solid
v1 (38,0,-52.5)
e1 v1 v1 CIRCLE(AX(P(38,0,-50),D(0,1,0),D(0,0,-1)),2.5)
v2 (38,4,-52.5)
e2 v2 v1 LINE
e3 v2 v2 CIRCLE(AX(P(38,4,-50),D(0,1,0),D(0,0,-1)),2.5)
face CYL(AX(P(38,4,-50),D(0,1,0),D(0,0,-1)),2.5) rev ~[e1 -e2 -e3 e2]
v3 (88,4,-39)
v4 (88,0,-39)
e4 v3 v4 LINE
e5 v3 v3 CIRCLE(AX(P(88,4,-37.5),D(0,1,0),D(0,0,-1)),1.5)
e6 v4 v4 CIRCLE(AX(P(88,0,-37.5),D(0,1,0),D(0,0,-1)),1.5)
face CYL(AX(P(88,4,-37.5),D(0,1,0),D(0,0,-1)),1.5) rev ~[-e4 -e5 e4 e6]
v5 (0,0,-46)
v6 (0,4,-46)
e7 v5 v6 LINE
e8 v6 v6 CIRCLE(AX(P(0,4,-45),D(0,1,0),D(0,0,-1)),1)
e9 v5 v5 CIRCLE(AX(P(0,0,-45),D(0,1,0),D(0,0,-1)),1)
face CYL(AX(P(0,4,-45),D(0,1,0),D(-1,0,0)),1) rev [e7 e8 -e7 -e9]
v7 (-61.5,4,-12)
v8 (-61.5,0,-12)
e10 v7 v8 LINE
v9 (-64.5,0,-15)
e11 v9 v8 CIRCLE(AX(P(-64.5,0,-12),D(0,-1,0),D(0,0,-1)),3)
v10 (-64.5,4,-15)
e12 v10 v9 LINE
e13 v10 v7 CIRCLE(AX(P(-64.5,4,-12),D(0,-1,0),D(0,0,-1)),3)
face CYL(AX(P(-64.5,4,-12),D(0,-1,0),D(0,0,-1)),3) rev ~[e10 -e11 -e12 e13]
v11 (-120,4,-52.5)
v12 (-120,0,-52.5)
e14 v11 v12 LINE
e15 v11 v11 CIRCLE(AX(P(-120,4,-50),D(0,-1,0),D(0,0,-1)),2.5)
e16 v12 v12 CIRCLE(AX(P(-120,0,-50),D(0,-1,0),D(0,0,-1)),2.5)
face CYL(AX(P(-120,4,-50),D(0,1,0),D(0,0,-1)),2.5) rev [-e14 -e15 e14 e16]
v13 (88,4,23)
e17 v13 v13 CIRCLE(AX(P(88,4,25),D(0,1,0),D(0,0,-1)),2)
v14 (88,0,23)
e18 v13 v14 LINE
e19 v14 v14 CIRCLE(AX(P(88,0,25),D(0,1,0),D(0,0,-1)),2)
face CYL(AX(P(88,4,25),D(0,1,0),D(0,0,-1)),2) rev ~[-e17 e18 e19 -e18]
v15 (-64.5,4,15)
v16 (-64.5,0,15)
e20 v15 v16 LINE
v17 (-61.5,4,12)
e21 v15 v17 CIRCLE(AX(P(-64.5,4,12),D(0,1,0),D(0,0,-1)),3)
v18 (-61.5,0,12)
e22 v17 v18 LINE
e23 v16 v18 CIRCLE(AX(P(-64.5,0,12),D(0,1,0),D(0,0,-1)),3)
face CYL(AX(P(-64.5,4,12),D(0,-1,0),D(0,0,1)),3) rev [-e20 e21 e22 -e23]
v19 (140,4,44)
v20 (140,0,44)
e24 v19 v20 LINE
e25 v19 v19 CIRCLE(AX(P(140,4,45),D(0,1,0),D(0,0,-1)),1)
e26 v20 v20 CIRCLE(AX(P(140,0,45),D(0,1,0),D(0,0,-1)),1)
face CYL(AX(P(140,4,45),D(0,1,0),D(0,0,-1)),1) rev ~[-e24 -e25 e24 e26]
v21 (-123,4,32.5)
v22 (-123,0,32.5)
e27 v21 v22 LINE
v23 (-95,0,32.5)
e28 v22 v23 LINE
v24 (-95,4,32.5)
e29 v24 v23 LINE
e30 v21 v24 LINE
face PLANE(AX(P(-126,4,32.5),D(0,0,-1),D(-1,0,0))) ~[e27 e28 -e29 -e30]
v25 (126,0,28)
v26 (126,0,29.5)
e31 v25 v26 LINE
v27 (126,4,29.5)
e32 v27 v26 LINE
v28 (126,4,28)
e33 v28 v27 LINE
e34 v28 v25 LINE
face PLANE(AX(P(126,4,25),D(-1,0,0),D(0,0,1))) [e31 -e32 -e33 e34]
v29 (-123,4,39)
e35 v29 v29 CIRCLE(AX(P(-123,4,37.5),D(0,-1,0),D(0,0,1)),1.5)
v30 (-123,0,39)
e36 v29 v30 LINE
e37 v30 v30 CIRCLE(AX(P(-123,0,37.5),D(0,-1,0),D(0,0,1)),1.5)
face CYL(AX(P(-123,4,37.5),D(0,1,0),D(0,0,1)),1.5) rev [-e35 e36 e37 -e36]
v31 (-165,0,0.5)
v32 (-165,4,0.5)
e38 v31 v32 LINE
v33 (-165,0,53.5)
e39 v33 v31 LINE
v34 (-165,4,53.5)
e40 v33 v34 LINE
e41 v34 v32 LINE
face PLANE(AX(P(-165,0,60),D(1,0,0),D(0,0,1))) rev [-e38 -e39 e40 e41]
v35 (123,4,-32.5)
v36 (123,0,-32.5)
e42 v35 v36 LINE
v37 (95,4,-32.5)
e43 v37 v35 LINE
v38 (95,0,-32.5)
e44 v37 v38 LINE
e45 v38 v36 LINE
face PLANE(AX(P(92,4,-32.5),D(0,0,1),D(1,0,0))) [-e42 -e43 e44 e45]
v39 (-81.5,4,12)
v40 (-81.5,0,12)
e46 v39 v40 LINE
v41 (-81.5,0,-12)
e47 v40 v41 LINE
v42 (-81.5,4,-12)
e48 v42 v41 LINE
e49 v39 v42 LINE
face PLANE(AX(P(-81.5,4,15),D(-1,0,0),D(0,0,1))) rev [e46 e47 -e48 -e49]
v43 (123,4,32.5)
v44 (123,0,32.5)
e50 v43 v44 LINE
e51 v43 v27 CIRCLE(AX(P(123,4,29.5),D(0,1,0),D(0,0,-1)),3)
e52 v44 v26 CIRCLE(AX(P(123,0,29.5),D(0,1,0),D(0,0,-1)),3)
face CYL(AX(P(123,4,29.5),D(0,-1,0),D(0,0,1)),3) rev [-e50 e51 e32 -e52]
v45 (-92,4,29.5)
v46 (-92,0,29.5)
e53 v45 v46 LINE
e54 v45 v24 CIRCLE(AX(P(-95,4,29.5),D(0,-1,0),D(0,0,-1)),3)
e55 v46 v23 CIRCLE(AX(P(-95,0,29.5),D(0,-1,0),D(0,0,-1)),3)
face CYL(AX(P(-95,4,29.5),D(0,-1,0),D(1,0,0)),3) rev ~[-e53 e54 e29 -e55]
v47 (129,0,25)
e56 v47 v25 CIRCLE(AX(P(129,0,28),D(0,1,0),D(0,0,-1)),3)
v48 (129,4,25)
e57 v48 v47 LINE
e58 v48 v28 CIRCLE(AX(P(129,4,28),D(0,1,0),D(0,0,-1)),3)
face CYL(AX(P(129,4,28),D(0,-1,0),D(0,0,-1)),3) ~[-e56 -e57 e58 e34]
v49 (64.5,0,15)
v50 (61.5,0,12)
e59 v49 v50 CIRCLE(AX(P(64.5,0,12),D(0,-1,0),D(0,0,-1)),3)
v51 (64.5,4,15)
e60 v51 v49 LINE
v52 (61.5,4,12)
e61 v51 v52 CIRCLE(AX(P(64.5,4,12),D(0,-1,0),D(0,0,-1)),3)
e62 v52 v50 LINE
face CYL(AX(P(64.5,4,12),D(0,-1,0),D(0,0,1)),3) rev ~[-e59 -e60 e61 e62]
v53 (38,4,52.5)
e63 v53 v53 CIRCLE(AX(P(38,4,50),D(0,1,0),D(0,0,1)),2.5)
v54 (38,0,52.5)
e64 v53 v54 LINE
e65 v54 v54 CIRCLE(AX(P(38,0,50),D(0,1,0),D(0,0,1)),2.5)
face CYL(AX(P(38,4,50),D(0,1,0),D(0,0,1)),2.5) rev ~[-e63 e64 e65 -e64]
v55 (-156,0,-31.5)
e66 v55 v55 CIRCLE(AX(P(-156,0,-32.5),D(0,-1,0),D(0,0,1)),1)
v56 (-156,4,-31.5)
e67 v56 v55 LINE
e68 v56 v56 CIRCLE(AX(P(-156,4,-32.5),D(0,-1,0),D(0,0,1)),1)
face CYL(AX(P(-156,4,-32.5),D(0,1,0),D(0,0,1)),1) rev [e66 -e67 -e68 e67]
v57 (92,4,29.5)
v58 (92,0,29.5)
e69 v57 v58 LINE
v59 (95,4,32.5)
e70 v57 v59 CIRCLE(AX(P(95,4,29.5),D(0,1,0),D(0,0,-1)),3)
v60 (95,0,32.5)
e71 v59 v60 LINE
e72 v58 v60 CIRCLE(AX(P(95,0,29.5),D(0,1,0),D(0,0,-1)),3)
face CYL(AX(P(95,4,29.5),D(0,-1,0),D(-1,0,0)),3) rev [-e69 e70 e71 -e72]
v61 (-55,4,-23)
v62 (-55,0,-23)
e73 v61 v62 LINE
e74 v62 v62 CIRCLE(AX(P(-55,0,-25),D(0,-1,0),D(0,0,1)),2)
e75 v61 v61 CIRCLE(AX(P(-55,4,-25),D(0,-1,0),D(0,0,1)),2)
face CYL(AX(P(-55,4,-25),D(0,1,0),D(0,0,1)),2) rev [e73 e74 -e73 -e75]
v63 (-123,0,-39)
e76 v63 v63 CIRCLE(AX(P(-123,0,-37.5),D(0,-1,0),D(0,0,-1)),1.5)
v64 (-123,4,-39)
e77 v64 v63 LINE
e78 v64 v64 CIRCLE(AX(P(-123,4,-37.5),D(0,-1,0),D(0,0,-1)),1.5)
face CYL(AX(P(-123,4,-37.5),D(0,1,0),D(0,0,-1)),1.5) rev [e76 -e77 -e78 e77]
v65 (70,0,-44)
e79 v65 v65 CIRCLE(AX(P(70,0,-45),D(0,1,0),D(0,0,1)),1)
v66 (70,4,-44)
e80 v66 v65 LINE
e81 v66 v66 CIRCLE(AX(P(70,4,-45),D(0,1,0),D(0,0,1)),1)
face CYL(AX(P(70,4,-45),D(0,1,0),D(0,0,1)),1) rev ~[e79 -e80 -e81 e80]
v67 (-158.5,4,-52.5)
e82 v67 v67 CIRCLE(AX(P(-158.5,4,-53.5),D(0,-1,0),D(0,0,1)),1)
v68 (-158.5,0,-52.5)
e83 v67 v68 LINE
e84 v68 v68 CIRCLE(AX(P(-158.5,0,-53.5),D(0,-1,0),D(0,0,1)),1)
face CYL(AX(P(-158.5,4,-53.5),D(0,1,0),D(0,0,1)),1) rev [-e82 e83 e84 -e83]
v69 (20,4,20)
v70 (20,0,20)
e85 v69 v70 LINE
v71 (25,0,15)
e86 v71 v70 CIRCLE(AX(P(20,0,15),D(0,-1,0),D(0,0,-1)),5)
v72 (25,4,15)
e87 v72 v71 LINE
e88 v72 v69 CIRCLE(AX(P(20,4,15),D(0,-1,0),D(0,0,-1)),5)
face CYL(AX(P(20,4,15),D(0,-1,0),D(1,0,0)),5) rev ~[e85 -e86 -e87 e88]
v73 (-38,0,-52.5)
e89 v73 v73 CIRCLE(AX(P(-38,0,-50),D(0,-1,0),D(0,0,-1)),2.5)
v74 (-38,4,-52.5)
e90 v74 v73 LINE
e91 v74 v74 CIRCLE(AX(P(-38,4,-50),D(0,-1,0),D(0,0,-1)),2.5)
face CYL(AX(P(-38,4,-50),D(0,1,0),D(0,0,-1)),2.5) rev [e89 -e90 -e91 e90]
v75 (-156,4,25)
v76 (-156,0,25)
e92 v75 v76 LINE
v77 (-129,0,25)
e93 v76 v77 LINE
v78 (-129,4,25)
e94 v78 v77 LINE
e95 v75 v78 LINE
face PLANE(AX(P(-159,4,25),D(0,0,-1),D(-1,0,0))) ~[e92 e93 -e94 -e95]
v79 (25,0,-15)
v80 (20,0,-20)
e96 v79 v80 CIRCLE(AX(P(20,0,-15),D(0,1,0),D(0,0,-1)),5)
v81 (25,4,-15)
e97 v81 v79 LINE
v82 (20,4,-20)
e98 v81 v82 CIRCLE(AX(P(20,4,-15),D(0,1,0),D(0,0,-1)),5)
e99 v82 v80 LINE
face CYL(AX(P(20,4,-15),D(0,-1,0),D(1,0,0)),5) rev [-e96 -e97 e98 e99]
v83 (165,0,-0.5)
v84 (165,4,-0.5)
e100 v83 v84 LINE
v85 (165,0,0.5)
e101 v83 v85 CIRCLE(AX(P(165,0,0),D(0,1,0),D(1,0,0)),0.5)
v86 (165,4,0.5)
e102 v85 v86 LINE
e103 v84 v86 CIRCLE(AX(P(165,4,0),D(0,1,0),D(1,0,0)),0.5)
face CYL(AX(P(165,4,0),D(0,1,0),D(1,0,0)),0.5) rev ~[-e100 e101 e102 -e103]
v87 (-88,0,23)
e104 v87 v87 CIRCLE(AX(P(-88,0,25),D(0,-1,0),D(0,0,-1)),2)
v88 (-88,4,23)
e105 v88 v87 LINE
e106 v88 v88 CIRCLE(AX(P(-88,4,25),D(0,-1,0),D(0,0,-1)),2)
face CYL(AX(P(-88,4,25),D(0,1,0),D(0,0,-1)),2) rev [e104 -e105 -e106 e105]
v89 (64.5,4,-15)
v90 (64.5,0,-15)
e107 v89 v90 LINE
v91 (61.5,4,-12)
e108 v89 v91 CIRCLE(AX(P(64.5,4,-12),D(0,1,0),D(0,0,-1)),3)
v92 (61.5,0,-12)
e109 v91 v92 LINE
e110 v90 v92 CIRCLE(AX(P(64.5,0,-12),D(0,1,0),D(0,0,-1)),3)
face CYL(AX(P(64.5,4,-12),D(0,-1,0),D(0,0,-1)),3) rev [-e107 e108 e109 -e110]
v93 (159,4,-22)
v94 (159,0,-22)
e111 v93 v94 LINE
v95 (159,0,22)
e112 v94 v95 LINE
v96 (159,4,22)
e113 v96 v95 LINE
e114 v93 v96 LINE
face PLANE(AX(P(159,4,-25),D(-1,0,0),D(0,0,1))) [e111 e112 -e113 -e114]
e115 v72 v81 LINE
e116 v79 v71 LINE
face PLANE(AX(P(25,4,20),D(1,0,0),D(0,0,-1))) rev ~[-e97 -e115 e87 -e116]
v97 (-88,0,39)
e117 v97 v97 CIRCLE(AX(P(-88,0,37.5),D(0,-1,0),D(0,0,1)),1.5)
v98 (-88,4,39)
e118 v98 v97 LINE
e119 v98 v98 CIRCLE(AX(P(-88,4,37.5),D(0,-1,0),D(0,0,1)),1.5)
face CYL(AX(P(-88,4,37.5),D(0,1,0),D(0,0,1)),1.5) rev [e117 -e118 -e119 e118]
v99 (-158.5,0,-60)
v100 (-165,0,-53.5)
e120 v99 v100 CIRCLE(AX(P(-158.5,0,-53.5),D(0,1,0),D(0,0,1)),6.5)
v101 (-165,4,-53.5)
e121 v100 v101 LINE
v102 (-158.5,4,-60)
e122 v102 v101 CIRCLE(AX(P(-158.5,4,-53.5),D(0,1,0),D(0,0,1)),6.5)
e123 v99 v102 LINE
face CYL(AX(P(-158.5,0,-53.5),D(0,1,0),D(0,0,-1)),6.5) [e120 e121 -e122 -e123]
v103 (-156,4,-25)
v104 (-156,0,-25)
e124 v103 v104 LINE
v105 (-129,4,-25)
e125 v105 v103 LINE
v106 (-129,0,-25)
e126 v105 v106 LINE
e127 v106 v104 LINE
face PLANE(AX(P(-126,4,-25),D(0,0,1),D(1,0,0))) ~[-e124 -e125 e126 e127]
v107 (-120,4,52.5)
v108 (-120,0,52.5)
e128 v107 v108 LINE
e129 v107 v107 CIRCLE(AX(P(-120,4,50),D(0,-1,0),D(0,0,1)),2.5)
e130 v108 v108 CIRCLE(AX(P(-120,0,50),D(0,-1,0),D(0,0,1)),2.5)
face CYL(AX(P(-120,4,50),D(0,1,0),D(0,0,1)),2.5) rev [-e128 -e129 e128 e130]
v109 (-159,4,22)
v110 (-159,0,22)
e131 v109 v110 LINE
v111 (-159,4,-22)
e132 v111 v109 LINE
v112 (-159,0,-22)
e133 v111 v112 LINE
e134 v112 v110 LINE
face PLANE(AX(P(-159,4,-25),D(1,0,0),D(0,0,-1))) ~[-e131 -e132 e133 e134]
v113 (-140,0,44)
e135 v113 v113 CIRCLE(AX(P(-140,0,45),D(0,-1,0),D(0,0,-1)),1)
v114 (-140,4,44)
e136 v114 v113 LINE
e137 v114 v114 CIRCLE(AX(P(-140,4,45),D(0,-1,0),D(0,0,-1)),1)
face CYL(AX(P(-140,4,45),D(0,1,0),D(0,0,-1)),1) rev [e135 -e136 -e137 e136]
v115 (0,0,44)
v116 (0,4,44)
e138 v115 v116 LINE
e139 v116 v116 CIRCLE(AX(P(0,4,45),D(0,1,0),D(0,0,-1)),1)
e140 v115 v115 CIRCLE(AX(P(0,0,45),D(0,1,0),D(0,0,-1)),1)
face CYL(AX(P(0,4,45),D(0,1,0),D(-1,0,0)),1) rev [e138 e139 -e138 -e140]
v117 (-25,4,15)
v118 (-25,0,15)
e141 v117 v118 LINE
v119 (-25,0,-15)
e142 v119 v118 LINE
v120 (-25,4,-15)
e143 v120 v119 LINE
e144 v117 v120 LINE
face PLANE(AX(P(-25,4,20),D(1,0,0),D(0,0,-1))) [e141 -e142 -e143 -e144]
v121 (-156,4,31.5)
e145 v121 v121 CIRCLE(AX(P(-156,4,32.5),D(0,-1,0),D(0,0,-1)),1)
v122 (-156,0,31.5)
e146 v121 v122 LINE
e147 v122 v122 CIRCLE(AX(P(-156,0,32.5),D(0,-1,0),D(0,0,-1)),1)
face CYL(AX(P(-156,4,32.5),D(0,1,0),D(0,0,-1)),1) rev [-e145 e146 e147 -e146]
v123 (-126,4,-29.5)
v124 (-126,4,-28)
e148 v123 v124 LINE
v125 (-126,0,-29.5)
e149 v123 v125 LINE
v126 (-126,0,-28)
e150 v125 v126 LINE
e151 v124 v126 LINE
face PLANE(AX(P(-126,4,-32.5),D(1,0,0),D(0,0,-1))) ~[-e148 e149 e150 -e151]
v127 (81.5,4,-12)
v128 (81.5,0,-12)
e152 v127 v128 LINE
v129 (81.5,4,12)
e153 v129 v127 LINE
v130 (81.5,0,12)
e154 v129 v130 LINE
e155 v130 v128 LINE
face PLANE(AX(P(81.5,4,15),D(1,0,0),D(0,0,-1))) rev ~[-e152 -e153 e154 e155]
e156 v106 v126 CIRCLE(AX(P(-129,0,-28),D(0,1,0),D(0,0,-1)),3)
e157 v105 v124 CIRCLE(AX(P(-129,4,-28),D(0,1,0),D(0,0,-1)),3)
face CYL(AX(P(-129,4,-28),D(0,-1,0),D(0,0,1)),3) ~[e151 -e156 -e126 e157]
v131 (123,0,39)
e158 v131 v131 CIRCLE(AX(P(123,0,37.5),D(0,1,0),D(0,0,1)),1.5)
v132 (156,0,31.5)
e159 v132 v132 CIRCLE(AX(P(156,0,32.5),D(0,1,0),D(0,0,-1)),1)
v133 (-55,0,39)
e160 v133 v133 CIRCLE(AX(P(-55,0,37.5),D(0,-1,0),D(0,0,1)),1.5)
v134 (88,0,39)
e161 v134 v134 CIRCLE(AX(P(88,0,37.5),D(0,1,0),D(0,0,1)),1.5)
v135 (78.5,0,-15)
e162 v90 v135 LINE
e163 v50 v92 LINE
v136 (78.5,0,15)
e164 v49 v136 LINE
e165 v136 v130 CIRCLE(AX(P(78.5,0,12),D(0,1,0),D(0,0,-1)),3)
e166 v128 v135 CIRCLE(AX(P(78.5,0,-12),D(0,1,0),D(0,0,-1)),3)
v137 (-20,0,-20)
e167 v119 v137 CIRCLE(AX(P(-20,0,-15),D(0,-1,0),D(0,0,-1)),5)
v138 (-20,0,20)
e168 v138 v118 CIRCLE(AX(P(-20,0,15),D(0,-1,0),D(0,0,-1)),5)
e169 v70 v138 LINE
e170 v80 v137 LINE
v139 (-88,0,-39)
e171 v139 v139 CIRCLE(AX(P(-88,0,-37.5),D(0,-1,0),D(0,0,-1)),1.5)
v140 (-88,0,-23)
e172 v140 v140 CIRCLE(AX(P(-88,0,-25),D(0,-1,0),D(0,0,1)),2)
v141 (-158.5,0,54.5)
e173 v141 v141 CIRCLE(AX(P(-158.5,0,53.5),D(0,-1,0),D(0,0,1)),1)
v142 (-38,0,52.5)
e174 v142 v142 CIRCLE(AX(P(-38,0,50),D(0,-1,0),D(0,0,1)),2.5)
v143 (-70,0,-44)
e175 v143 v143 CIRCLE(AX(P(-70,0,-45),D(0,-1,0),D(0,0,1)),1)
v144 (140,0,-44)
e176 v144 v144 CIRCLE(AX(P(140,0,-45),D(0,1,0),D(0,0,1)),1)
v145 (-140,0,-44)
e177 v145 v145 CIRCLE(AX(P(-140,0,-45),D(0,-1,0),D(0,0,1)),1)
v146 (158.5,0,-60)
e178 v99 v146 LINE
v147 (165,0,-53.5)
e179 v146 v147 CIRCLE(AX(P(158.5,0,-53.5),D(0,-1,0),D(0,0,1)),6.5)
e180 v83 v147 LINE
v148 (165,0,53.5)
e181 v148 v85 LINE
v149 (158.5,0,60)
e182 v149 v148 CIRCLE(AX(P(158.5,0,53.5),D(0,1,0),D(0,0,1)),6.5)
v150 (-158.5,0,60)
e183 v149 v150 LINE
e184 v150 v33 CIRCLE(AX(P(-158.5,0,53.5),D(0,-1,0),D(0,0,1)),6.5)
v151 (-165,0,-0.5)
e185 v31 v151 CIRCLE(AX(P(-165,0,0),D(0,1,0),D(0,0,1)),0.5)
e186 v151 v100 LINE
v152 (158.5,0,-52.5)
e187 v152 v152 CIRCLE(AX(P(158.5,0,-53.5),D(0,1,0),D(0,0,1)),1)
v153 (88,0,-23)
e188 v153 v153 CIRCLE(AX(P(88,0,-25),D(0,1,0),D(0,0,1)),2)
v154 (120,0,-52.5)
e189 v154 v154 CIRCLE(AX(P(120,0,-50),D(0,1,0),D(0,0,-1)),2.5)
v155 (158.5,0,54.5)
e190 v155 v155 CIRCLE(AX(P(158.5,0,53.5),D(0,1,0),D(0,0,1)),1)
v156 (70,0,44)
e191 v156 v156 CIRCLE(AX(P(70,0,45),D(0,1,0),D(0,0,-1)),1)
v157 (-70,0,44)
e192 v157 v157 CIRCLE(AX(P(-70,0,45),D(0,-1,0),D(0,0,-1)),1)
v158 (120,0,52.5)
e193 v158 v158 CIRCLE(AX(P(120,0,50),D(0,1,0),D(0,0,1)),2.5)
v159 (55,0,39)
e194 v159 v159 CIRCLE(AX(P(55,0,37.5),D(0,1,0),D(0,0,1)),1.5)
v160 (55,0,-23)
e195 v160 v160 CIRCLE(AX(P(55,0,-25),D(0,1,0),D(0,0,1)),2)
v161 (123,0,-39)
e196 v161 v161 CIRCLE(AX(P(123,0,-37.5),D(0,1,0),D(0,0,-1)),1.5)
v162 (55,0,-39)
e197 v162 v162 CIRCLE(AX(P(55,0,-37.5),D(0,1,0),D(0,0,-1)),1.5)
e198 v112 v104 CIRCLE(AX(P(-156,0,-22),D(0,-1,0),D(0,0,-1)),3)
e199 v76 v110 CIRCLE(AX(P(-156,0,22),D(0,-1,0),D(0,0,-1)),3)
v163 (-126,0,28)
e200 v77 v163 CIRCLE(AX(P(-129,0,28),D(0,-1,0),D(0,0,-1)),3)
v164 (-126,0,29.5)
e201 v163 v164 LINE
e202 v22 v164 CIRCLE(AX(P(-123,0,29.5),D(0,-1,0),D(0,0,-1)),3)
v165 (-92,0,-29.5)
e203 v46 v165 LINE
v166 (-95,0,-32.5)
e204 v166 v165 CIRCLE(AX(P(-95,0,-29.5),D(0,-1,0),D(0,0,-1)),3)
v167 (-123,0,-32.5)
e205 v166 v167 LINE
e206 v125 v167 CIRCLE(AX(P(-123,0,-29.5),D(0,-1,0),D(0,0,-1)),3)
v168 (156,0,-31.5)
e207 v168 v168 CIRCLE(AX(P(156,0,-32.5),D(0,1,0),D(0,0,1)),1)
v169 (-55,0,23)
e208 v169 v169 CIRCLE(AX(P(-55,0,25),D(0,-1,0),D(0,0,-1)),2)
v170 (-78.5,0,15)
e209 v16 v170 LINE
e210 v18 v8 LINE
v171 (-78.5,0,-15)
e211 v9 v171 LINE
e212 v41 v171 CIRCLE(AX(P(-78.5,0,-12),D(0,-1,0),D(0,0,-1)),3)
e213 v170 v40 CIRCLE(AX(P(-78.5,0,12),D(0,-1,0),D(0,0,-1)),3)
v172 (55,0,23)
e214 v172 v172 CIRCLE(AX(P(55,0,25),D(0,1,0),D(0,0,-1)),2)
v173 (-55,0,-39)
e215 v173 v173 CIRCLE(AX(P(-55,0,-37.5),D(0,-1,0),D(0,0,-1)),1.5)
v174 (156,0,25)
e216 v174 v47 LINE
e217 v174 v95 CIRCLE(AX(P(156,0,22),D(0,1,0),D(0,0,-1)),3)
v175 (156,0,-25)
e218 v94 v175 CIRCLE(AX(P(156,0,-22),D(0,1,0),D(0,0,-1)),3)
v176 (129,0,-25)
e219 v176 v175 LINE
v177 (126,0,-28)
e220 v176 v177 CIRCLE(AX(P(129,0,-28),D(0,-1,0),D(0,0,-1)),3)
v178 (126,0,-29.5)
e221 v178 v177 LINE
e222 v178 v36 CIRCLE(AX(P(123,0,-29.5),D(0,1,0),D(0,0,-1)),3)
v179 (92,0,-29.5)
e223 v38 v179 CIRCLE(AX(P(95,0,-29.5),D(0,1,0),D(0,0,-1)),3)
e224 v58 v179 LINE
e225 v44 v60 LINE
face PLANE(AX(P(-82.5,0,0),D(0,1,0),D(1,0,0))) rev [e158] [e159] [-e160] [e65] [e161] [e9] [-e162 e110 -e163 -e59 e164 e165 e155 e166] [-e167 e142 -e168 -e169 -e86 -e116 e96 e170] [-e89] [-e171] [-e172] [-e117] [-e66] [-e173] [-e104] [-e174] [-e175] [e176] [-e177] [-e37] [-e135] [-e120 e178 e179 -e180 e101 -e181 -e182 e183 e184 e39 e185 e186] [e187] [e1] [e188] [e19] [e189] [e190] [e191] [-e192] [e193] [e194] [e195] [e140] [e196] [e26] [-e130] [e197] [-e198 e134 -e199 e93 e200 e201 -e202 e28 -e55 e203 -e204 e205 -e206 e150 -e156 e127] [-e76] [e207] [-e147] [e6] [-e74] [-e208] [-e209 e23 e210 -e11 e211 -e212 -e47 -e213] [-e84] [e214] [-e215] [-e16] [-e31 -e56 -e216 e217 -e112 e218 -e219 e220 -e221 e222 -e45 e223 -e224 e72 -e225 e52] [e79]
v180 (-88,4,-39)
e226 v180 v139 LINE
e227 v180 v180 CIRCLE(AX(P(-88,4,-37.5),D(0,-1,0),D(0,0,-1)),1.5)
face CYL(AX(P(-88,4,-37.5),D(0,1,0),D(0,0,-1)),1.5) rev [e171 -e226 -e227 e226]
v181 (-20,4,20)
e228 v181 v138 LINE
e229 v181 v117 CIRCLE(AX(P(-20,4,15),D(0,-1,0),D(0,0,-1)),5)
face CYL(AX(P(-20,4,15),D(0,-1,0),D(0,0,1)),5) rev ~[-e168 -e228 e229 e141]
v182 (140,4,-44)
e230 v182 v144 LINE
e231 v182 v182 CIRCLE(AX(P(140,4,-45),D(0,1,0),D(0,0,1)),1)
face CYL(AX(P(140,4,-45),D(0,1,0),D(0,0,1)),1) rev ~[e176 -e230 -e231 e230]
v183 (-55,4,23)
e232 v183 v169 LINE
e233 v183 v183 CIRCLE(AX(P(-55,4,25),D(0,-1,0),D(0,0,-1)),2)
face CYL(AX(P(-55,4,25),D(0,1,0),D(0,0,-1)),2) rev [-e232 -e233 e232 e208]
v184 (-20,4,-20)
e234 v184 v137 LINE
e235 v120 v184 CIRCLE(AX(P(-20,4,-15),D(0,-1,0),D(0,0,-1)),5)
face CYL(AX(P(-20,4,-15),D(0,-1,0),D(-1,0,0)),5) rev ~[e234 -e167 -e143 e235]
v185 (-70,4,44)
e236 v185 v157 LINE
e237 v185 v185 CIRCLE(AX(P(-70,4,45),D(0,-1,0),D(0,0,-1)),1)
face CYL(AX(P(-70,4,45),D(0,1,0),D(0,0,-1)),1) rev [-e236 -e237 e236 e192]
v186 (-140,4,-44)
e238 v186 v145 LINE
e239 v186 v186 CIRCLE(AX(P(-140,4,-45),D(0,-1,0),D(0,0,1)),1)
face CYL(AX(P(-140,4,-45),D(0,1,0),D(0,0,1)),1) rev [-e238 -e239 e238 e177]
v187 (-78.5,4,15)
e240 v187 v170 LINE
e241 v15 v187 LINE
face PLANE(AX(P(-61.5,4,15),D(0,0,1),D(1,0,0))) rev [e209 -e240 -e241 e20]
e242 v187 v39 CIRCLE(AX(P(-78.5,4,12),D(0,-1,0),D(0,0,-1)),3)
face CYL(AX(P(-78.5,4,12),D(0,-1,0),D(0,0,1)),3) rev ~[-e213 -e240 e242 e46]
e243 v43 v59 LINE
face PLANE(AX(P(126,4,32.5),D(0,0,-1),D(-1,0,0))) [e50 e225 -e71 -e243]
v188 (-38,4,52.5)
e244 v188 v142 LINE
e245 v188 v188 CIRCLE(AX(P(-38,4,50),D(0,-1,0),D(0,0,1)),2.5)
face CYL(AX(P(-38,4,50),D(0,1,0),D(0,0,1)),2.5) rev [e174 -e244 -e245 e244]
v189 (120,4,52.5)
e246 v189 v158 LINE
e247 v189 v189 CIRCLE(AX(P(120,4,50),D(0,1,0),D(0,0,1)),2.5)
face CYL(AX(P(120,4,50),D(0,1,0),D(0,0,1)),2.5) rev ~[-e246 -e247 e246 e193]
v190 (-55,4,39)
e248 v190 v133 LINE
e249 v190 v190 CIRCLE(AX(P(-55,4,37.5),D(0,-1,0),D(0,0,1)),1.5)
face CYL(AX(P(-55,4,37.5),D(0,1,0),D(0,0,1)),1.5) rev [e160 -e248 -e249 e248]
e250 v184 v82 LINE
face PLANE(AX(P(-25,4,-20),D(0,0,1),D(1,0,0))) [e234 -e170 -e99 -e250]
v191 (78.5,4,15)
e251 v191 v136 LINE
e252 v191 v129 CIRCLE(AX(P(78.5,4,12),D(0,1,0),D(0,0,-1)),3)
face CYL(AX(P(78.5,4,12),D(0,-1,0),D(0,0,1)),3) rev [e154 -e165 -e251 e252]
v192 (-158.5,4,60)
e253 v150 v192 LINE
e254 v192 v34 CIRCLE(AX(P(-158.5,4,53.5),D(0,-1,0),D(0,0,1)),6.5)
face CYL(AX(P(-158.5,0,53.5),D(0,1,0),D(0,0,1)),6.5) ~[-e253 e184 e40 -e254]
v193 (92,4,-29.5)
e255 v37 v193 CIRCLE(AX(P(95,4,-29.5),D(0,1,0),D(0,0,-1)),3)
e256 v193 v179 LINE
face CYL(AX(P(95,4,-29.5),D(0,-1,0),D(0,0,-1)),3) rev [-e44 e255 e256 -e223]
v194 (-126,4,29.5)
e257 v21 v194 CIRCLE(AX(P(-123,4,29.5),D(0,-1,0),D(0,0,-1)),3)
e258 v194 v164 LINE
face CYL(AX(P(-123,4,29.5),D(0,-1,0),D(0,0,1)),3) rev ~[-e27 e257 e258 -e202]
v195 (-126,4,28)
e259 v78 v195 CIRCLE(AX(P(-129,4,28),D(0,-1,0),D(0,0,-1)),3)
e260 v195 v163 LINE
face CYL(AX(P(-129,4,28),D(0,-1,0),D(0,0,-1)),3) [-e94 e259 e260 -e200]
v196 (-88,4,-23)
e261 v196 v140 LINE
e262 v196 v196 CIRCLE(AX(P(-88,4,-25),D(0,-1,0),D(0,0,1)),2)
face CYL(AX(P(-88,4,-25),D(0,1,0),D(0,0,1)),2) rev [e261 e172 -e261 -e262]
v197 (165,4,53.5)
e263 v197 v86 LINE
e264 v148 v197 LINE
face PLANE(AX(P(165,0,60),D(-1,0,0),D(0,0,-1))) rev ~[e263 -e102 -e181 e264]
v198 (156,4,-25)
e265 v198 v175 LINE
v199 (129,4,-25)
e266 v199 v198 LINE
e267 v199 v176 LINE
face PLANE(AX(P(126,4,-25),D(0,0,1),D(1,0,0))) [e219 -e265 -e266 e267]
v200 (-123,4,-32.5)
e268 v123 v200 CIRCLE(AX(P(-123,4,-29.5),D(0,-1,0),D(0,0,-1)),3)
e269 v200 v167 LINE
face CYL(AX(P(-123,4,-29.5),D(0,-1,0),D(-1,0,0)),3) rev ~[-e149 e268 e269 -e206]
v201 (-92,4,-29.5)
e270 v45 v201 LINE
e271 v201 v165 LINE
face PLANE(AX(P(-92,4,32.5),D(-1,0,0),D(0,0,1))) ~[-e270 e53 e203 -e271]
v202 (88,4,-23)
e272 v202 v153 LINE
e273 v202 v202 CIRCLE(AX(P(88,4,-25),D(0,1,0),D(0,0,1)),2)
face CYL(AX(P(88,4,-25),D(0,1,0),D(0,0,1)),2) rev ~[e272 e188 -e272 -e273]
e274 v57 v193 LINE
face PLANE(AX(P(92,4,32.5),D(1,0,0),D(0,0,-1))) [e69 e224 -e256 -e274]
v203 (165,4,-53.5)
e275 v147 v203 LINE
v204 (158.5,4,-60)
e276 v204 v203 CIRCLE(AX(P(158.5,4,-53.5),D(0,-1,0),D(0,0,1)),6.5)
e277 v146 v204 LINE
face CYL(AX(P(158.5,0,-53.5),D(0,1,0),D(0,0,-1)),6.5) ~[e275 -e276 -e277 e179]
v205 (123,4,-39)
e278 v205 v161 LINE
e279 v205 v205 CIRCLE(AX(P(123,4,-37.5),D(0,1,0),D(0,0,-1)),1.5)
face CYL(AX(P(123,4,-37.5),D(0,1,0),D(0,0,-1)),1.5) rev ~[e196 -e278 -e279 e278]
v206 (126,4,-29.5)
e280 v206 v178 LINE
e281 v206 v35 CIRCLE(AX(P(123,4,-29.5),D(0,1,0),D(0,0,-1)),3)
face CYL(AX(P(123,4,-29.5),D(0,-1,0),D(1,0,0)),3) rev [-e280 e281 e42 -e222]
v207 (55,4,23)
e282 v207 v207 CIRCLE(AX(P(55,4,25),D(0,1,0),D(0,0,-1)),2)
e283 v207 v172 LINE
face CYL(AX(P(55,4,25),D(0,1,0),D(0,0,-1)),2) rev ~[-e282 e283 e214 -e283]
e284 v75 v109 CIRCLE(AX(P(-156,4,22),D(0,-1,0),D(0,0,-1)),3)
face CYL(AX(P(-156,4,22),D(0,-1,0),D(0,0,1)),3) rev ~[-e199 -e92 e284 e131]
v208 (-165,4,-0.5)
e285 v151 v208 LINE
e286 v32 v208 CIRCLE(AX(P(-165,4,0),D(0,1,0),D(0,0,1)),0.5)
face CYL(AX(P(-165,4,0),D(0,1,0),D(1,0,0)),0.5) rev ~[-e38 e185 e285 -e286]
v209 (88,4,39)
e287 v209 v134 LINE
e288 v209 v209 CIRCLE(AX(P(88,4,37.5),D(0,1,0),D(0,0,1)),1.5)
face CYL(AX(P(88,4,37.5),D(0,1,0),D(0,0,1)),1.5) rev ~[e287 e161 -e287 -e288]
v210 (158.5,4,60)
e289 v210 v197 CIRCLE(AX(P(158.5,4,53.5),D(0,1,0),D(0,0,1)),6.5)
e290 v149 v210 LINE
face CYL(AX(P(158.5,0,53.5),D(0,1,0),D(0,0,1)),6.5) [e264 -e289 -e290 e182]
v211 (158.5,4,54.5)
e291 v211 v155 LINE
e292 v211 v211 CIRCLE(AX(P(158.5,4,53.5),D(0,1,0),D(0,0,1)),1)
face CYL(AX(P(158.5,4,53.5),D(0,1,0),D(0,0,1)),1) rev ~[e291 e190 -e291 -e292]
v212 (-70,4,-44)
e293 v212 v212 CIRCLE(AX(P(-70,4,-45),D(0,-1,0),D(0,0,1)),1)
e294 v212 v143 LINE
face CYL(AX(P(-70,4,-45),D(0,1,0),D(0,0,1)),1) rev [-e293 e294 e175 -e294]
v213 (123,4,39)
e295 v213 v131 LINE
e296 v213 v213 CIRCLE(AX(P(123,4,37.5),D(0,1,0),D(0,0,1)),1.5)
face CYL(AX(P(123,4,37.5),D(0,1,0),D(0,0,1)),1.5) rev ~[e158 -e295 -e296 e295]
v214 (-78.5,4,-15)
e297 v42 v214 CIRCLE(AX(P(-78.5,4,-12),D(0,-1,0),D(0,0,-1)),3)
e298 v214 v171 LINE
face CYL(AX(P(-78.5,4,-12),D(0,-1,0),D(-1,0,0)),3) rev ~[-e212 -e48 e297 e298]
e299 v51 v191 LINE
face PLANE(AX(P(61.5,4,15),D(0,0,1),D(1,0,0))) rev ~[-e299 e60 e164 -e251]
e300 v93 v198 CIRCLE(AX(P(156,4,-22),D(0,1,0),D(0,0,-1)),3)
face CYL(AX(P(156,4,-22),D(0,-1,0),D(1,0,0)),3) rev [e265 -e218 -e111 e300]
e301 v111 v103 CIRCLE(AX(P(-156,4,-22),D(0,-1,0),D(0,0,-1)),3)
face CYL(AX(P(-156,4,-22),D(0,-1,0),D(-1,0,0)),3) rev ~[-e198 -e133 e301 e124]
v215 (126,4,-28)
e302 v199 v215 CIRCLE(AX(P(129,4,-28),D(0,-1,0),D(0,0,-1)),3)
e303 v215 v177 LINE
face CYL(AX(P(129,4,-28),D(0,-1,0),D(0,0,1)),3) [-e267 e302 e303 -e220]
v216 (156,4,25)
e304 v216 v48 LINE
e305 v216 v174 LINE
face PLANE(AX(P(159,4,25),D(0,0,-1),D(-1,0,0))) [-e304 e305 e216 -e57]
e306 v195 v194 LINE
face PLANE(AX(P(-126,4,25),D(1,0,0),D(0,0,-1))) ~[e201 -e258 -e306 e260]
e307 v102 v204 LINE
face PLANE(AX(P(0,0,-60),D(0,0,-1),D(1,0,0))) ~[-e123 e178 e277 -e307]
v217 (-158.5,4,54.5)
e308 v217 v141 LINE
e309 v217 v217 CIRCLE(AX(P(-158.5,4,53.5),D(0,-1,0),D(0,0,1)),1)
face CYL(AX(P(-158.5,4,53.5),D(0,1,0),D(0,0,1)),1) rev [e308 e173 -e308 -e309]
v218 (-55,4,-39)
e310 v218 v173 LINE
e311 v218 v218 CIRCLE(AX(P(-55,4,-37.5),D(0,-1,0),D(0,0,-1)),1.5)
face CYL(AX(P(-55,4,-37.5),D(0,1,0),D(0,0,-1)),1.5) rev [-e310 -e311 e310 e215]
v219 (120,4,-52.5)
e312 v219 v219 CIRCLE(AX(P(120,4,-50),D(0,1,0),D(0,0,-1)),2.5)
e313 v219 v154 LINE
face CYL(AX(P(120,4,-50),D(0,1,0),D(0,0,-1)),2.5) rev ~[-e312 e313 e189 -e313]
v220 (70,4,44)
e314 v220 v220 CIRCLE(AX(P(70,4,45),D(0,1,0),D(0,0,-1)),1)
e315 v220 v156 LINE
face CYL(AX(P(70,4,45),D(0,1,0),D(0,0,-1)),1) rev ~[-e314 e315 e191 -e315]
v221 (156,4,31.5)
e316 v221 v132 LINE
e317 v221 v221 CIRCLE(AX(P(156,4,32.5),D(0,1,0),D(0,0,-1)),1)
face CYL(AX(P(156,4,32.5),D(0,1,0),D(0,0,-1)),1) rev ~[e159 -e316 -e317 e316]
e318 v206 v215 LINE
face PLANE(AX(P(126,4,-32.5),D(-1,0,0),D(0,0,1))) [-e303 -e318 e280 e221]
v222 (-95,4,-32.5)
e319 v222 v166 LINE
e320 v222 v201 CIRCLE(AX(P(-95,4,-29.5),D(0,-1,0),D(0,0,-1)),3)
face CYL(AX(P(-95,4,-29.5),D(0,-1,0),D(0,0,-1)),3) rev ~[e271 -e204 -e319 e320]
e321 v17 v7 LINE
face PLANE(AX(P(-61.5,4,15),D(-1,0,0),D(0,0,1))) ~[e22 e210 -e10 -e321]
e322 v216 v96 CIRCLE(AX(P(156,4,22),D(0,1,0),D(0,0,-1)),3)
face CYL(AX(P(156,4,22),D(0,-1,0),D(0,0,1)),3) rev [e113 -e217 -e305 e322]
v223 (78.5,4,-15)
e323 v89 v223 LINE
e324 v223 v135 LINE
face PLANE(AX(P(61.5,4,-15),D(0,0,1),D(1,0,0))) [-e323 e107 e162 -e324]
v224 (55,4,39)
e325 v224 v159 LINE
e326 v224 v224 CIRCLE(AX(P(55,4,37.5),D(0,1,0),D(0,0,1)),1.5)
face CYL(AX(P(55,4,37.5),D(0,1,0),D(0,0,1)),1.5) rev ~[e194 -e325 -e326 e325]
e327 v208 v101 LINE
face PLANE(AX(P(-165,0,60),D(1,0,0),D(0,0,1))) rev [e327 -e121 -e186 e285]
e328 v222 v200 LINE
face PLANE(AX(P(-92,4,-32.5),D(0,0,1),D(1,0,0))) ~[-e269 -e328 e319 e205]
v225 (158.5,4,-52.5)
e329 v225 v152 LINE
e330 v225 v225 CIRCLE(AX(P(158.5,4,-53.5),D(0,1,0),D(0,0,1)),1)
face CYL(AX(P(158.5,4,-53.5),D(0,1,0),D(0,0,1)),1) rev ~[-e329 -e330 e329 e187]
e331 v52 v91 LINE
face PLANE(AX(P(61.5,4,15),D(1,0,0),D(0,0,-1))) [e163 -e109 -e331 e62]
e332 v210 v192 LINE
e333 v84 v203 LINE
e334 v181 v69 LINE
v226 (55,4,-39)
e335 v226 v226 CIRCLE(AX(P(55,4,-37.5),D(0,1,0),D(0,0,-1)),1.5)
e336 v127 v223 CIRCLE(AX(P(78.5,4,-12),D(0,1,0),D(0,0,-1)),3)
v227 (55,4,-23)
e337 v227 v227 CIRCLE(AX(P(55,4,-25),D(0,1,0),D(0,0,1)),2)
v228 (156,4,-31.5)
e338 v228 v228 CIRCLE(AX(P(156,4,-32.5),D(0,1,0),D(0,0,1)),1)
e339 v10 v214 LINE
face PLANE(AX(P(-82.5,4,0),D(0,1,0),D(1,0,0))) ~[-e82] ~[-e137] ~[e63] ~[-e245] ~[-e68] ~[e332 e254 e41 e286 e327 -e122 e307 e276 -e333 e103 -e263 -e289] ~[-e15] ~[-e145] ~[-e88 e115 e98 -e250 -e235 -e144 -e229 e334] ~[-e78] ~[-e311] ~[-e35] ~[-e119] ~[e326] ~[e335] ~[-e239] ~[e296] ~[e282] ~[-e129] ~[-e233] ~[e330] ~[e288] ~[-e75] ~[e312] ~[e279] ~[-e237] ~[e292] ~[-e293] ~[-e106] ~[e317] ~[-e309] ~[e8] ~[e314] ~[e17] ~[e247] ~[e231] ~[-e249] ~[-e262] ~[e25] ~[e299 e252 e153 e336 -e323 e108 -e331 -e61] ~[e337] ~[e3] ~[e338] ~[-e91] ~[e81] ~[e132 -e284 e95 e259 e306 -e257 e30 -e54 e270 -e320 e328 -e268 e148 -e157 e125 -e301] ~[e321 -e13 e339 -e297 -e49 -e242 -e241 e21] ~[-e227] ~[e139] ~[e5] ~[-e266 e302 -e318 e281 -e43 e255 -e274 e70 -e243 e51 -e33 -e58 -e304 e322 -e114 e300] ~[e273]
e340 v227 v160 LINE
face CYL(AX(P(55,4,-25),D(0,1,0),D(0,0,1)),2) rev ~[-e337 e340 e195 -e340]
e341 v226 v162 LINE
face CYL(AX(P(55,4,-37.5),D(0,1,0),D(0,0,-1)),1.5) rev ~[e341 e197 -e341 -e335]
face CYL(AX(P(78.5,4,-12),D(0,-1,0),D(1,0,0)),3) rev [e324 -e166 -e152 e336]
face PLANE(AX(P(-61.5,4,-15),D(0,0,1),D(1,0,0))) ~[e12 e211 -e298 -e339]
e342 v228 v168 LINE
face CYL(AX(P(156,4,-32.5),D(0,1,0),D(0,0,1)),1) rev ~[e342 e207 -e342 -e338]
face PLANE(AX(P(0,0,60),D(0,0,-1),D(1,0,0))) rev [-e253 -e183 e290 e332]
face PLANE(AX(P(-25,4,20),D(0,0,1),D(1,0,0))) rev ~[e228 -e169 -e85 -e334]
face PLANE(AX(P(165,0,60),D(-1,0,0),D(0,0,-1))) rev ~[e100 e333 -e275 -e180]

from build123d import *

# Parameters (mm, degrees)
ESQUISSE1_W             = 165
ESQUISSE1_H             = 120
BOSS_EXTRU_1_DEPTH      = 4
ESQUISSE2_R             = 2
ESQUISSE2_R_2           = 1.5
ESQUISSE2_W             = 20
ESQUISSE2_H             = 30
ENL_V_MAT_EXTRU_1_DEPTH = 176.616058491
CONG_1_R                = 3
CONG_2_R                = 6.5
ESQUISSE3_R             = 1
ENL_V_MAT_EXTRU_2_DEPTH = 176.616058491
ESQUISSE4_R             = 2.5
ESQUISSE4_R_2           = 1
ENL_V_MAT_EXTRU_3_DEPTH = 176.616058491
ESQUISSE6_R             = 0.5
ESQUISSE6_W             = 50
ESQUISSE6_H             = 40
ENL_V_MAT_EXTRU_4_DEPTH = 176.616058491
CONG_3_R                = 5


with BuildPart() as part:
    # Esquisse1 → Boss.-Extru.1 (new body)
    with BuildSketch(Plane(origin=(0, 0, 0), x_dir=(1, 0, 0), z_dir=(0, 1, 0))):
        with Locations((82.5, 0)):
            Rectangle(ESQUISSE1_W, ESQUISSE1_H)
    extrude(amount=BOSS_EXTRU_1_DEPTH)

    # Esquisse2 → Enlèv. mat.-Extru.1 (cut, through all)
    with BuildSketch(Plane(origin=(0, 4, 0), x_dir=(1, 0, 0), z_dir=(0, 1, 0))):
        with Locations(Location((55, 25, 0), (0, 0, 270))):
            Circle(ESQUISSE2_R)
        with Locations(Location((88, 25, 0), (0, 0, 270))):
            Circle(ESQUISSE2_R)
        with Locations(Location((88, -25, 0), (0, 0, 90))):
            Circle(ESQUISSE2_R)
        with Locations(Location((55, -25, 0), (0, 0, 90))):
            Circle(ESQUISSE2_R)
        with Locations(Location((55, -37.5, 0), (0, 0, 270))):
            Circle(ESQUISSE2_R_2)
        with Locations(Location((88, -37.5, 0), (0, 0, 270))):
            Circle(ESQUISSE2_R_2)
        with Locations(Location((123, -37.5, 0), (0, 0, 270))):
            Circle(ESQUISSE2_R_2)
        with Locations(Location((123, 37.5, 0), (0, 0, 90))):
            Circle(ESQUISSE2_R_2)
        with Locations(Location((88, 37.5, 0), (0, 0, 90))):
            Circle(ESQUISSE2_R_2)
        with Locations(Location((55, 37.5, 0), (0, 0, 90))):
            Circle(ESQUISSE2_R_2)
        Polygon((126, -25), (126, -32.5), (92, -32.5), (92, 32.5), (126, 32.5), (126, 25), (159, 25), (159, -25), align=None)
        with Locations((71.5, 0)):
            Rectangle(ESQUISSE2_W, ESQUISSE2_H)
    extrude(amount=-ENL_V_MAT_EXTRU_1_DEPTH, mode=Mode.SUBTRACT)

    # Congé1
    cong_1_edges = [part.edges().sort_by_distance(p)[0] for p in [
        (92, 2, 32.5),
        (92, 2, -32.5),
        (126, 2, -32.5),
        (126, 2, -25),
        (159, 2, -25),
        (159, 2, 25),
        (126, 2, 25),
        (126, 2, 32.5),
        (61.5, 2, 15),
        (61.5, 2, -15),
        (81.5, 2, -15),
        (81.5, 2, 15),
    ]]
    fillet(cong_1_edges, radius=CONG_1_R)

    # Congé2
    cong_2_edges = [part.edges().sort_by_distance(p)[0] for p in [
        (165, 2, -60),
        (165, 2, 60),
    ]]
    fillet(cong_2_edges, radius=CONG_2_R)

    # Esquisse3 → Enlèv. mat.-Extru.2 (cut, through all)
    with BuildSketch(Plane(origin=(0, 4, 0), x_dir=(1, 0, 0), z_dir=(0, 1, 0))):
        with Locations(Location((158.5, -53.5, 0), (0, 0, 270))):
            Circle(ESQUISSE3_R)
        with Locations(Location((158.5, 53.5, 0), (0, 0, 270))):
            Circle(ESQUISSE3_R)
        with Locations(Location((156, 32.5, 0), (0, 0, 270))):
            Circle(ESQUISSE3_R)
        with Locations(Location((156, -32.5, 0), (0, 0, 90))):
            Circle(ESQUISSE3_R)
    extrude(amount=-ENL_V_MAT_EXTRU_2_DEPTH, mode=Mode.SUBTRACT)

    # Esquisse4 → Enlèv. mat.-Extru.3 (cut, through all)
    with BuildSketch(Plane(origin=(0, 4, 0), x_dir=(1, 0, 0), z_dir=(0, 1, 0))):
        with Locations(Location((120, -50, 0), (0, 0, 270))):
            Circle(ESQUISSE4_R)
        with Locations(Location((38, -50, 0), (0, 0, 270))):
            Circle(ESQUISSE4_R)
        with Locations(Location((38, 50, 0), (0, 0, 90))):
            Circle(ESQUISSE4_R)
        with Locations(Location((120, 50, 0), (0, 0, 90))):
            Circle(ESQUISSE4_R)
        with Locations((0, 45)):
            Circle(ESQUISSE4_R_2)
        with Locations(Location((70, 45, 0), (0, 0, 270))):
            Circle(ESQUISSE4_R_2)
        with Locations(Location((140, 45, 0), (0, 0, 270))):
            Circle(ESQUISSE4_R_2)
        with Locations(Location((140, -45, 0), (0, 0, 90))):
            Circle(ESQUISSE4_R_2)
        with Locations(Location((70, -45, 0), (0, 0, 90))):
            Circle(ESQUISSE4_R_2)
        with Locations((0, -45)):
            Circle(ESQUISSE4_R_2)
    extrude(amount=-ENL_V_MAT_EXTRU_3_DEPTH, mode=Mode.SUBTRACT)

    # Symétrie1: part across plane


with BuildPart() as part_1:
    add(part.part)
    add(part.part.mirror(Plane(origin=(0, 4, -60), x_dir=(0, 0, 1), z_dir=(1, 0, 0))))

    # Esquisse6 → Enlèv. mat.-Extru.4 (cut, through all)
    with BuildSketch(Plane(origin=(0, 4, 0), x_dir=(1, 0, 0), z_dir=(0, 1, 0))):
        with Locations((165, 0)):
            Circle(ESQUISSE6_R)
        with Locations((-165, 0)):
            Circle(ESQUISSE6_R)
        Rectangle(ESQUISSE6_W, ESQUISSE6_H)
    extrude(amount=-ENL_V_MAT_EXTRU_4_DEPTH, mode=Mode.SUBTRACT)

    # Congé3
    cong_3_edges = [part_1.edges().sort_by_distance(p)[0] for p in [
        (25, 2, -20),
        (25, 2, 20),
        (-25, 2, 20),
        (-25, 2, -20),
    ]]
    fillet(cong_3_edges, radius=CONG_3_R)


solid = part_1.part
